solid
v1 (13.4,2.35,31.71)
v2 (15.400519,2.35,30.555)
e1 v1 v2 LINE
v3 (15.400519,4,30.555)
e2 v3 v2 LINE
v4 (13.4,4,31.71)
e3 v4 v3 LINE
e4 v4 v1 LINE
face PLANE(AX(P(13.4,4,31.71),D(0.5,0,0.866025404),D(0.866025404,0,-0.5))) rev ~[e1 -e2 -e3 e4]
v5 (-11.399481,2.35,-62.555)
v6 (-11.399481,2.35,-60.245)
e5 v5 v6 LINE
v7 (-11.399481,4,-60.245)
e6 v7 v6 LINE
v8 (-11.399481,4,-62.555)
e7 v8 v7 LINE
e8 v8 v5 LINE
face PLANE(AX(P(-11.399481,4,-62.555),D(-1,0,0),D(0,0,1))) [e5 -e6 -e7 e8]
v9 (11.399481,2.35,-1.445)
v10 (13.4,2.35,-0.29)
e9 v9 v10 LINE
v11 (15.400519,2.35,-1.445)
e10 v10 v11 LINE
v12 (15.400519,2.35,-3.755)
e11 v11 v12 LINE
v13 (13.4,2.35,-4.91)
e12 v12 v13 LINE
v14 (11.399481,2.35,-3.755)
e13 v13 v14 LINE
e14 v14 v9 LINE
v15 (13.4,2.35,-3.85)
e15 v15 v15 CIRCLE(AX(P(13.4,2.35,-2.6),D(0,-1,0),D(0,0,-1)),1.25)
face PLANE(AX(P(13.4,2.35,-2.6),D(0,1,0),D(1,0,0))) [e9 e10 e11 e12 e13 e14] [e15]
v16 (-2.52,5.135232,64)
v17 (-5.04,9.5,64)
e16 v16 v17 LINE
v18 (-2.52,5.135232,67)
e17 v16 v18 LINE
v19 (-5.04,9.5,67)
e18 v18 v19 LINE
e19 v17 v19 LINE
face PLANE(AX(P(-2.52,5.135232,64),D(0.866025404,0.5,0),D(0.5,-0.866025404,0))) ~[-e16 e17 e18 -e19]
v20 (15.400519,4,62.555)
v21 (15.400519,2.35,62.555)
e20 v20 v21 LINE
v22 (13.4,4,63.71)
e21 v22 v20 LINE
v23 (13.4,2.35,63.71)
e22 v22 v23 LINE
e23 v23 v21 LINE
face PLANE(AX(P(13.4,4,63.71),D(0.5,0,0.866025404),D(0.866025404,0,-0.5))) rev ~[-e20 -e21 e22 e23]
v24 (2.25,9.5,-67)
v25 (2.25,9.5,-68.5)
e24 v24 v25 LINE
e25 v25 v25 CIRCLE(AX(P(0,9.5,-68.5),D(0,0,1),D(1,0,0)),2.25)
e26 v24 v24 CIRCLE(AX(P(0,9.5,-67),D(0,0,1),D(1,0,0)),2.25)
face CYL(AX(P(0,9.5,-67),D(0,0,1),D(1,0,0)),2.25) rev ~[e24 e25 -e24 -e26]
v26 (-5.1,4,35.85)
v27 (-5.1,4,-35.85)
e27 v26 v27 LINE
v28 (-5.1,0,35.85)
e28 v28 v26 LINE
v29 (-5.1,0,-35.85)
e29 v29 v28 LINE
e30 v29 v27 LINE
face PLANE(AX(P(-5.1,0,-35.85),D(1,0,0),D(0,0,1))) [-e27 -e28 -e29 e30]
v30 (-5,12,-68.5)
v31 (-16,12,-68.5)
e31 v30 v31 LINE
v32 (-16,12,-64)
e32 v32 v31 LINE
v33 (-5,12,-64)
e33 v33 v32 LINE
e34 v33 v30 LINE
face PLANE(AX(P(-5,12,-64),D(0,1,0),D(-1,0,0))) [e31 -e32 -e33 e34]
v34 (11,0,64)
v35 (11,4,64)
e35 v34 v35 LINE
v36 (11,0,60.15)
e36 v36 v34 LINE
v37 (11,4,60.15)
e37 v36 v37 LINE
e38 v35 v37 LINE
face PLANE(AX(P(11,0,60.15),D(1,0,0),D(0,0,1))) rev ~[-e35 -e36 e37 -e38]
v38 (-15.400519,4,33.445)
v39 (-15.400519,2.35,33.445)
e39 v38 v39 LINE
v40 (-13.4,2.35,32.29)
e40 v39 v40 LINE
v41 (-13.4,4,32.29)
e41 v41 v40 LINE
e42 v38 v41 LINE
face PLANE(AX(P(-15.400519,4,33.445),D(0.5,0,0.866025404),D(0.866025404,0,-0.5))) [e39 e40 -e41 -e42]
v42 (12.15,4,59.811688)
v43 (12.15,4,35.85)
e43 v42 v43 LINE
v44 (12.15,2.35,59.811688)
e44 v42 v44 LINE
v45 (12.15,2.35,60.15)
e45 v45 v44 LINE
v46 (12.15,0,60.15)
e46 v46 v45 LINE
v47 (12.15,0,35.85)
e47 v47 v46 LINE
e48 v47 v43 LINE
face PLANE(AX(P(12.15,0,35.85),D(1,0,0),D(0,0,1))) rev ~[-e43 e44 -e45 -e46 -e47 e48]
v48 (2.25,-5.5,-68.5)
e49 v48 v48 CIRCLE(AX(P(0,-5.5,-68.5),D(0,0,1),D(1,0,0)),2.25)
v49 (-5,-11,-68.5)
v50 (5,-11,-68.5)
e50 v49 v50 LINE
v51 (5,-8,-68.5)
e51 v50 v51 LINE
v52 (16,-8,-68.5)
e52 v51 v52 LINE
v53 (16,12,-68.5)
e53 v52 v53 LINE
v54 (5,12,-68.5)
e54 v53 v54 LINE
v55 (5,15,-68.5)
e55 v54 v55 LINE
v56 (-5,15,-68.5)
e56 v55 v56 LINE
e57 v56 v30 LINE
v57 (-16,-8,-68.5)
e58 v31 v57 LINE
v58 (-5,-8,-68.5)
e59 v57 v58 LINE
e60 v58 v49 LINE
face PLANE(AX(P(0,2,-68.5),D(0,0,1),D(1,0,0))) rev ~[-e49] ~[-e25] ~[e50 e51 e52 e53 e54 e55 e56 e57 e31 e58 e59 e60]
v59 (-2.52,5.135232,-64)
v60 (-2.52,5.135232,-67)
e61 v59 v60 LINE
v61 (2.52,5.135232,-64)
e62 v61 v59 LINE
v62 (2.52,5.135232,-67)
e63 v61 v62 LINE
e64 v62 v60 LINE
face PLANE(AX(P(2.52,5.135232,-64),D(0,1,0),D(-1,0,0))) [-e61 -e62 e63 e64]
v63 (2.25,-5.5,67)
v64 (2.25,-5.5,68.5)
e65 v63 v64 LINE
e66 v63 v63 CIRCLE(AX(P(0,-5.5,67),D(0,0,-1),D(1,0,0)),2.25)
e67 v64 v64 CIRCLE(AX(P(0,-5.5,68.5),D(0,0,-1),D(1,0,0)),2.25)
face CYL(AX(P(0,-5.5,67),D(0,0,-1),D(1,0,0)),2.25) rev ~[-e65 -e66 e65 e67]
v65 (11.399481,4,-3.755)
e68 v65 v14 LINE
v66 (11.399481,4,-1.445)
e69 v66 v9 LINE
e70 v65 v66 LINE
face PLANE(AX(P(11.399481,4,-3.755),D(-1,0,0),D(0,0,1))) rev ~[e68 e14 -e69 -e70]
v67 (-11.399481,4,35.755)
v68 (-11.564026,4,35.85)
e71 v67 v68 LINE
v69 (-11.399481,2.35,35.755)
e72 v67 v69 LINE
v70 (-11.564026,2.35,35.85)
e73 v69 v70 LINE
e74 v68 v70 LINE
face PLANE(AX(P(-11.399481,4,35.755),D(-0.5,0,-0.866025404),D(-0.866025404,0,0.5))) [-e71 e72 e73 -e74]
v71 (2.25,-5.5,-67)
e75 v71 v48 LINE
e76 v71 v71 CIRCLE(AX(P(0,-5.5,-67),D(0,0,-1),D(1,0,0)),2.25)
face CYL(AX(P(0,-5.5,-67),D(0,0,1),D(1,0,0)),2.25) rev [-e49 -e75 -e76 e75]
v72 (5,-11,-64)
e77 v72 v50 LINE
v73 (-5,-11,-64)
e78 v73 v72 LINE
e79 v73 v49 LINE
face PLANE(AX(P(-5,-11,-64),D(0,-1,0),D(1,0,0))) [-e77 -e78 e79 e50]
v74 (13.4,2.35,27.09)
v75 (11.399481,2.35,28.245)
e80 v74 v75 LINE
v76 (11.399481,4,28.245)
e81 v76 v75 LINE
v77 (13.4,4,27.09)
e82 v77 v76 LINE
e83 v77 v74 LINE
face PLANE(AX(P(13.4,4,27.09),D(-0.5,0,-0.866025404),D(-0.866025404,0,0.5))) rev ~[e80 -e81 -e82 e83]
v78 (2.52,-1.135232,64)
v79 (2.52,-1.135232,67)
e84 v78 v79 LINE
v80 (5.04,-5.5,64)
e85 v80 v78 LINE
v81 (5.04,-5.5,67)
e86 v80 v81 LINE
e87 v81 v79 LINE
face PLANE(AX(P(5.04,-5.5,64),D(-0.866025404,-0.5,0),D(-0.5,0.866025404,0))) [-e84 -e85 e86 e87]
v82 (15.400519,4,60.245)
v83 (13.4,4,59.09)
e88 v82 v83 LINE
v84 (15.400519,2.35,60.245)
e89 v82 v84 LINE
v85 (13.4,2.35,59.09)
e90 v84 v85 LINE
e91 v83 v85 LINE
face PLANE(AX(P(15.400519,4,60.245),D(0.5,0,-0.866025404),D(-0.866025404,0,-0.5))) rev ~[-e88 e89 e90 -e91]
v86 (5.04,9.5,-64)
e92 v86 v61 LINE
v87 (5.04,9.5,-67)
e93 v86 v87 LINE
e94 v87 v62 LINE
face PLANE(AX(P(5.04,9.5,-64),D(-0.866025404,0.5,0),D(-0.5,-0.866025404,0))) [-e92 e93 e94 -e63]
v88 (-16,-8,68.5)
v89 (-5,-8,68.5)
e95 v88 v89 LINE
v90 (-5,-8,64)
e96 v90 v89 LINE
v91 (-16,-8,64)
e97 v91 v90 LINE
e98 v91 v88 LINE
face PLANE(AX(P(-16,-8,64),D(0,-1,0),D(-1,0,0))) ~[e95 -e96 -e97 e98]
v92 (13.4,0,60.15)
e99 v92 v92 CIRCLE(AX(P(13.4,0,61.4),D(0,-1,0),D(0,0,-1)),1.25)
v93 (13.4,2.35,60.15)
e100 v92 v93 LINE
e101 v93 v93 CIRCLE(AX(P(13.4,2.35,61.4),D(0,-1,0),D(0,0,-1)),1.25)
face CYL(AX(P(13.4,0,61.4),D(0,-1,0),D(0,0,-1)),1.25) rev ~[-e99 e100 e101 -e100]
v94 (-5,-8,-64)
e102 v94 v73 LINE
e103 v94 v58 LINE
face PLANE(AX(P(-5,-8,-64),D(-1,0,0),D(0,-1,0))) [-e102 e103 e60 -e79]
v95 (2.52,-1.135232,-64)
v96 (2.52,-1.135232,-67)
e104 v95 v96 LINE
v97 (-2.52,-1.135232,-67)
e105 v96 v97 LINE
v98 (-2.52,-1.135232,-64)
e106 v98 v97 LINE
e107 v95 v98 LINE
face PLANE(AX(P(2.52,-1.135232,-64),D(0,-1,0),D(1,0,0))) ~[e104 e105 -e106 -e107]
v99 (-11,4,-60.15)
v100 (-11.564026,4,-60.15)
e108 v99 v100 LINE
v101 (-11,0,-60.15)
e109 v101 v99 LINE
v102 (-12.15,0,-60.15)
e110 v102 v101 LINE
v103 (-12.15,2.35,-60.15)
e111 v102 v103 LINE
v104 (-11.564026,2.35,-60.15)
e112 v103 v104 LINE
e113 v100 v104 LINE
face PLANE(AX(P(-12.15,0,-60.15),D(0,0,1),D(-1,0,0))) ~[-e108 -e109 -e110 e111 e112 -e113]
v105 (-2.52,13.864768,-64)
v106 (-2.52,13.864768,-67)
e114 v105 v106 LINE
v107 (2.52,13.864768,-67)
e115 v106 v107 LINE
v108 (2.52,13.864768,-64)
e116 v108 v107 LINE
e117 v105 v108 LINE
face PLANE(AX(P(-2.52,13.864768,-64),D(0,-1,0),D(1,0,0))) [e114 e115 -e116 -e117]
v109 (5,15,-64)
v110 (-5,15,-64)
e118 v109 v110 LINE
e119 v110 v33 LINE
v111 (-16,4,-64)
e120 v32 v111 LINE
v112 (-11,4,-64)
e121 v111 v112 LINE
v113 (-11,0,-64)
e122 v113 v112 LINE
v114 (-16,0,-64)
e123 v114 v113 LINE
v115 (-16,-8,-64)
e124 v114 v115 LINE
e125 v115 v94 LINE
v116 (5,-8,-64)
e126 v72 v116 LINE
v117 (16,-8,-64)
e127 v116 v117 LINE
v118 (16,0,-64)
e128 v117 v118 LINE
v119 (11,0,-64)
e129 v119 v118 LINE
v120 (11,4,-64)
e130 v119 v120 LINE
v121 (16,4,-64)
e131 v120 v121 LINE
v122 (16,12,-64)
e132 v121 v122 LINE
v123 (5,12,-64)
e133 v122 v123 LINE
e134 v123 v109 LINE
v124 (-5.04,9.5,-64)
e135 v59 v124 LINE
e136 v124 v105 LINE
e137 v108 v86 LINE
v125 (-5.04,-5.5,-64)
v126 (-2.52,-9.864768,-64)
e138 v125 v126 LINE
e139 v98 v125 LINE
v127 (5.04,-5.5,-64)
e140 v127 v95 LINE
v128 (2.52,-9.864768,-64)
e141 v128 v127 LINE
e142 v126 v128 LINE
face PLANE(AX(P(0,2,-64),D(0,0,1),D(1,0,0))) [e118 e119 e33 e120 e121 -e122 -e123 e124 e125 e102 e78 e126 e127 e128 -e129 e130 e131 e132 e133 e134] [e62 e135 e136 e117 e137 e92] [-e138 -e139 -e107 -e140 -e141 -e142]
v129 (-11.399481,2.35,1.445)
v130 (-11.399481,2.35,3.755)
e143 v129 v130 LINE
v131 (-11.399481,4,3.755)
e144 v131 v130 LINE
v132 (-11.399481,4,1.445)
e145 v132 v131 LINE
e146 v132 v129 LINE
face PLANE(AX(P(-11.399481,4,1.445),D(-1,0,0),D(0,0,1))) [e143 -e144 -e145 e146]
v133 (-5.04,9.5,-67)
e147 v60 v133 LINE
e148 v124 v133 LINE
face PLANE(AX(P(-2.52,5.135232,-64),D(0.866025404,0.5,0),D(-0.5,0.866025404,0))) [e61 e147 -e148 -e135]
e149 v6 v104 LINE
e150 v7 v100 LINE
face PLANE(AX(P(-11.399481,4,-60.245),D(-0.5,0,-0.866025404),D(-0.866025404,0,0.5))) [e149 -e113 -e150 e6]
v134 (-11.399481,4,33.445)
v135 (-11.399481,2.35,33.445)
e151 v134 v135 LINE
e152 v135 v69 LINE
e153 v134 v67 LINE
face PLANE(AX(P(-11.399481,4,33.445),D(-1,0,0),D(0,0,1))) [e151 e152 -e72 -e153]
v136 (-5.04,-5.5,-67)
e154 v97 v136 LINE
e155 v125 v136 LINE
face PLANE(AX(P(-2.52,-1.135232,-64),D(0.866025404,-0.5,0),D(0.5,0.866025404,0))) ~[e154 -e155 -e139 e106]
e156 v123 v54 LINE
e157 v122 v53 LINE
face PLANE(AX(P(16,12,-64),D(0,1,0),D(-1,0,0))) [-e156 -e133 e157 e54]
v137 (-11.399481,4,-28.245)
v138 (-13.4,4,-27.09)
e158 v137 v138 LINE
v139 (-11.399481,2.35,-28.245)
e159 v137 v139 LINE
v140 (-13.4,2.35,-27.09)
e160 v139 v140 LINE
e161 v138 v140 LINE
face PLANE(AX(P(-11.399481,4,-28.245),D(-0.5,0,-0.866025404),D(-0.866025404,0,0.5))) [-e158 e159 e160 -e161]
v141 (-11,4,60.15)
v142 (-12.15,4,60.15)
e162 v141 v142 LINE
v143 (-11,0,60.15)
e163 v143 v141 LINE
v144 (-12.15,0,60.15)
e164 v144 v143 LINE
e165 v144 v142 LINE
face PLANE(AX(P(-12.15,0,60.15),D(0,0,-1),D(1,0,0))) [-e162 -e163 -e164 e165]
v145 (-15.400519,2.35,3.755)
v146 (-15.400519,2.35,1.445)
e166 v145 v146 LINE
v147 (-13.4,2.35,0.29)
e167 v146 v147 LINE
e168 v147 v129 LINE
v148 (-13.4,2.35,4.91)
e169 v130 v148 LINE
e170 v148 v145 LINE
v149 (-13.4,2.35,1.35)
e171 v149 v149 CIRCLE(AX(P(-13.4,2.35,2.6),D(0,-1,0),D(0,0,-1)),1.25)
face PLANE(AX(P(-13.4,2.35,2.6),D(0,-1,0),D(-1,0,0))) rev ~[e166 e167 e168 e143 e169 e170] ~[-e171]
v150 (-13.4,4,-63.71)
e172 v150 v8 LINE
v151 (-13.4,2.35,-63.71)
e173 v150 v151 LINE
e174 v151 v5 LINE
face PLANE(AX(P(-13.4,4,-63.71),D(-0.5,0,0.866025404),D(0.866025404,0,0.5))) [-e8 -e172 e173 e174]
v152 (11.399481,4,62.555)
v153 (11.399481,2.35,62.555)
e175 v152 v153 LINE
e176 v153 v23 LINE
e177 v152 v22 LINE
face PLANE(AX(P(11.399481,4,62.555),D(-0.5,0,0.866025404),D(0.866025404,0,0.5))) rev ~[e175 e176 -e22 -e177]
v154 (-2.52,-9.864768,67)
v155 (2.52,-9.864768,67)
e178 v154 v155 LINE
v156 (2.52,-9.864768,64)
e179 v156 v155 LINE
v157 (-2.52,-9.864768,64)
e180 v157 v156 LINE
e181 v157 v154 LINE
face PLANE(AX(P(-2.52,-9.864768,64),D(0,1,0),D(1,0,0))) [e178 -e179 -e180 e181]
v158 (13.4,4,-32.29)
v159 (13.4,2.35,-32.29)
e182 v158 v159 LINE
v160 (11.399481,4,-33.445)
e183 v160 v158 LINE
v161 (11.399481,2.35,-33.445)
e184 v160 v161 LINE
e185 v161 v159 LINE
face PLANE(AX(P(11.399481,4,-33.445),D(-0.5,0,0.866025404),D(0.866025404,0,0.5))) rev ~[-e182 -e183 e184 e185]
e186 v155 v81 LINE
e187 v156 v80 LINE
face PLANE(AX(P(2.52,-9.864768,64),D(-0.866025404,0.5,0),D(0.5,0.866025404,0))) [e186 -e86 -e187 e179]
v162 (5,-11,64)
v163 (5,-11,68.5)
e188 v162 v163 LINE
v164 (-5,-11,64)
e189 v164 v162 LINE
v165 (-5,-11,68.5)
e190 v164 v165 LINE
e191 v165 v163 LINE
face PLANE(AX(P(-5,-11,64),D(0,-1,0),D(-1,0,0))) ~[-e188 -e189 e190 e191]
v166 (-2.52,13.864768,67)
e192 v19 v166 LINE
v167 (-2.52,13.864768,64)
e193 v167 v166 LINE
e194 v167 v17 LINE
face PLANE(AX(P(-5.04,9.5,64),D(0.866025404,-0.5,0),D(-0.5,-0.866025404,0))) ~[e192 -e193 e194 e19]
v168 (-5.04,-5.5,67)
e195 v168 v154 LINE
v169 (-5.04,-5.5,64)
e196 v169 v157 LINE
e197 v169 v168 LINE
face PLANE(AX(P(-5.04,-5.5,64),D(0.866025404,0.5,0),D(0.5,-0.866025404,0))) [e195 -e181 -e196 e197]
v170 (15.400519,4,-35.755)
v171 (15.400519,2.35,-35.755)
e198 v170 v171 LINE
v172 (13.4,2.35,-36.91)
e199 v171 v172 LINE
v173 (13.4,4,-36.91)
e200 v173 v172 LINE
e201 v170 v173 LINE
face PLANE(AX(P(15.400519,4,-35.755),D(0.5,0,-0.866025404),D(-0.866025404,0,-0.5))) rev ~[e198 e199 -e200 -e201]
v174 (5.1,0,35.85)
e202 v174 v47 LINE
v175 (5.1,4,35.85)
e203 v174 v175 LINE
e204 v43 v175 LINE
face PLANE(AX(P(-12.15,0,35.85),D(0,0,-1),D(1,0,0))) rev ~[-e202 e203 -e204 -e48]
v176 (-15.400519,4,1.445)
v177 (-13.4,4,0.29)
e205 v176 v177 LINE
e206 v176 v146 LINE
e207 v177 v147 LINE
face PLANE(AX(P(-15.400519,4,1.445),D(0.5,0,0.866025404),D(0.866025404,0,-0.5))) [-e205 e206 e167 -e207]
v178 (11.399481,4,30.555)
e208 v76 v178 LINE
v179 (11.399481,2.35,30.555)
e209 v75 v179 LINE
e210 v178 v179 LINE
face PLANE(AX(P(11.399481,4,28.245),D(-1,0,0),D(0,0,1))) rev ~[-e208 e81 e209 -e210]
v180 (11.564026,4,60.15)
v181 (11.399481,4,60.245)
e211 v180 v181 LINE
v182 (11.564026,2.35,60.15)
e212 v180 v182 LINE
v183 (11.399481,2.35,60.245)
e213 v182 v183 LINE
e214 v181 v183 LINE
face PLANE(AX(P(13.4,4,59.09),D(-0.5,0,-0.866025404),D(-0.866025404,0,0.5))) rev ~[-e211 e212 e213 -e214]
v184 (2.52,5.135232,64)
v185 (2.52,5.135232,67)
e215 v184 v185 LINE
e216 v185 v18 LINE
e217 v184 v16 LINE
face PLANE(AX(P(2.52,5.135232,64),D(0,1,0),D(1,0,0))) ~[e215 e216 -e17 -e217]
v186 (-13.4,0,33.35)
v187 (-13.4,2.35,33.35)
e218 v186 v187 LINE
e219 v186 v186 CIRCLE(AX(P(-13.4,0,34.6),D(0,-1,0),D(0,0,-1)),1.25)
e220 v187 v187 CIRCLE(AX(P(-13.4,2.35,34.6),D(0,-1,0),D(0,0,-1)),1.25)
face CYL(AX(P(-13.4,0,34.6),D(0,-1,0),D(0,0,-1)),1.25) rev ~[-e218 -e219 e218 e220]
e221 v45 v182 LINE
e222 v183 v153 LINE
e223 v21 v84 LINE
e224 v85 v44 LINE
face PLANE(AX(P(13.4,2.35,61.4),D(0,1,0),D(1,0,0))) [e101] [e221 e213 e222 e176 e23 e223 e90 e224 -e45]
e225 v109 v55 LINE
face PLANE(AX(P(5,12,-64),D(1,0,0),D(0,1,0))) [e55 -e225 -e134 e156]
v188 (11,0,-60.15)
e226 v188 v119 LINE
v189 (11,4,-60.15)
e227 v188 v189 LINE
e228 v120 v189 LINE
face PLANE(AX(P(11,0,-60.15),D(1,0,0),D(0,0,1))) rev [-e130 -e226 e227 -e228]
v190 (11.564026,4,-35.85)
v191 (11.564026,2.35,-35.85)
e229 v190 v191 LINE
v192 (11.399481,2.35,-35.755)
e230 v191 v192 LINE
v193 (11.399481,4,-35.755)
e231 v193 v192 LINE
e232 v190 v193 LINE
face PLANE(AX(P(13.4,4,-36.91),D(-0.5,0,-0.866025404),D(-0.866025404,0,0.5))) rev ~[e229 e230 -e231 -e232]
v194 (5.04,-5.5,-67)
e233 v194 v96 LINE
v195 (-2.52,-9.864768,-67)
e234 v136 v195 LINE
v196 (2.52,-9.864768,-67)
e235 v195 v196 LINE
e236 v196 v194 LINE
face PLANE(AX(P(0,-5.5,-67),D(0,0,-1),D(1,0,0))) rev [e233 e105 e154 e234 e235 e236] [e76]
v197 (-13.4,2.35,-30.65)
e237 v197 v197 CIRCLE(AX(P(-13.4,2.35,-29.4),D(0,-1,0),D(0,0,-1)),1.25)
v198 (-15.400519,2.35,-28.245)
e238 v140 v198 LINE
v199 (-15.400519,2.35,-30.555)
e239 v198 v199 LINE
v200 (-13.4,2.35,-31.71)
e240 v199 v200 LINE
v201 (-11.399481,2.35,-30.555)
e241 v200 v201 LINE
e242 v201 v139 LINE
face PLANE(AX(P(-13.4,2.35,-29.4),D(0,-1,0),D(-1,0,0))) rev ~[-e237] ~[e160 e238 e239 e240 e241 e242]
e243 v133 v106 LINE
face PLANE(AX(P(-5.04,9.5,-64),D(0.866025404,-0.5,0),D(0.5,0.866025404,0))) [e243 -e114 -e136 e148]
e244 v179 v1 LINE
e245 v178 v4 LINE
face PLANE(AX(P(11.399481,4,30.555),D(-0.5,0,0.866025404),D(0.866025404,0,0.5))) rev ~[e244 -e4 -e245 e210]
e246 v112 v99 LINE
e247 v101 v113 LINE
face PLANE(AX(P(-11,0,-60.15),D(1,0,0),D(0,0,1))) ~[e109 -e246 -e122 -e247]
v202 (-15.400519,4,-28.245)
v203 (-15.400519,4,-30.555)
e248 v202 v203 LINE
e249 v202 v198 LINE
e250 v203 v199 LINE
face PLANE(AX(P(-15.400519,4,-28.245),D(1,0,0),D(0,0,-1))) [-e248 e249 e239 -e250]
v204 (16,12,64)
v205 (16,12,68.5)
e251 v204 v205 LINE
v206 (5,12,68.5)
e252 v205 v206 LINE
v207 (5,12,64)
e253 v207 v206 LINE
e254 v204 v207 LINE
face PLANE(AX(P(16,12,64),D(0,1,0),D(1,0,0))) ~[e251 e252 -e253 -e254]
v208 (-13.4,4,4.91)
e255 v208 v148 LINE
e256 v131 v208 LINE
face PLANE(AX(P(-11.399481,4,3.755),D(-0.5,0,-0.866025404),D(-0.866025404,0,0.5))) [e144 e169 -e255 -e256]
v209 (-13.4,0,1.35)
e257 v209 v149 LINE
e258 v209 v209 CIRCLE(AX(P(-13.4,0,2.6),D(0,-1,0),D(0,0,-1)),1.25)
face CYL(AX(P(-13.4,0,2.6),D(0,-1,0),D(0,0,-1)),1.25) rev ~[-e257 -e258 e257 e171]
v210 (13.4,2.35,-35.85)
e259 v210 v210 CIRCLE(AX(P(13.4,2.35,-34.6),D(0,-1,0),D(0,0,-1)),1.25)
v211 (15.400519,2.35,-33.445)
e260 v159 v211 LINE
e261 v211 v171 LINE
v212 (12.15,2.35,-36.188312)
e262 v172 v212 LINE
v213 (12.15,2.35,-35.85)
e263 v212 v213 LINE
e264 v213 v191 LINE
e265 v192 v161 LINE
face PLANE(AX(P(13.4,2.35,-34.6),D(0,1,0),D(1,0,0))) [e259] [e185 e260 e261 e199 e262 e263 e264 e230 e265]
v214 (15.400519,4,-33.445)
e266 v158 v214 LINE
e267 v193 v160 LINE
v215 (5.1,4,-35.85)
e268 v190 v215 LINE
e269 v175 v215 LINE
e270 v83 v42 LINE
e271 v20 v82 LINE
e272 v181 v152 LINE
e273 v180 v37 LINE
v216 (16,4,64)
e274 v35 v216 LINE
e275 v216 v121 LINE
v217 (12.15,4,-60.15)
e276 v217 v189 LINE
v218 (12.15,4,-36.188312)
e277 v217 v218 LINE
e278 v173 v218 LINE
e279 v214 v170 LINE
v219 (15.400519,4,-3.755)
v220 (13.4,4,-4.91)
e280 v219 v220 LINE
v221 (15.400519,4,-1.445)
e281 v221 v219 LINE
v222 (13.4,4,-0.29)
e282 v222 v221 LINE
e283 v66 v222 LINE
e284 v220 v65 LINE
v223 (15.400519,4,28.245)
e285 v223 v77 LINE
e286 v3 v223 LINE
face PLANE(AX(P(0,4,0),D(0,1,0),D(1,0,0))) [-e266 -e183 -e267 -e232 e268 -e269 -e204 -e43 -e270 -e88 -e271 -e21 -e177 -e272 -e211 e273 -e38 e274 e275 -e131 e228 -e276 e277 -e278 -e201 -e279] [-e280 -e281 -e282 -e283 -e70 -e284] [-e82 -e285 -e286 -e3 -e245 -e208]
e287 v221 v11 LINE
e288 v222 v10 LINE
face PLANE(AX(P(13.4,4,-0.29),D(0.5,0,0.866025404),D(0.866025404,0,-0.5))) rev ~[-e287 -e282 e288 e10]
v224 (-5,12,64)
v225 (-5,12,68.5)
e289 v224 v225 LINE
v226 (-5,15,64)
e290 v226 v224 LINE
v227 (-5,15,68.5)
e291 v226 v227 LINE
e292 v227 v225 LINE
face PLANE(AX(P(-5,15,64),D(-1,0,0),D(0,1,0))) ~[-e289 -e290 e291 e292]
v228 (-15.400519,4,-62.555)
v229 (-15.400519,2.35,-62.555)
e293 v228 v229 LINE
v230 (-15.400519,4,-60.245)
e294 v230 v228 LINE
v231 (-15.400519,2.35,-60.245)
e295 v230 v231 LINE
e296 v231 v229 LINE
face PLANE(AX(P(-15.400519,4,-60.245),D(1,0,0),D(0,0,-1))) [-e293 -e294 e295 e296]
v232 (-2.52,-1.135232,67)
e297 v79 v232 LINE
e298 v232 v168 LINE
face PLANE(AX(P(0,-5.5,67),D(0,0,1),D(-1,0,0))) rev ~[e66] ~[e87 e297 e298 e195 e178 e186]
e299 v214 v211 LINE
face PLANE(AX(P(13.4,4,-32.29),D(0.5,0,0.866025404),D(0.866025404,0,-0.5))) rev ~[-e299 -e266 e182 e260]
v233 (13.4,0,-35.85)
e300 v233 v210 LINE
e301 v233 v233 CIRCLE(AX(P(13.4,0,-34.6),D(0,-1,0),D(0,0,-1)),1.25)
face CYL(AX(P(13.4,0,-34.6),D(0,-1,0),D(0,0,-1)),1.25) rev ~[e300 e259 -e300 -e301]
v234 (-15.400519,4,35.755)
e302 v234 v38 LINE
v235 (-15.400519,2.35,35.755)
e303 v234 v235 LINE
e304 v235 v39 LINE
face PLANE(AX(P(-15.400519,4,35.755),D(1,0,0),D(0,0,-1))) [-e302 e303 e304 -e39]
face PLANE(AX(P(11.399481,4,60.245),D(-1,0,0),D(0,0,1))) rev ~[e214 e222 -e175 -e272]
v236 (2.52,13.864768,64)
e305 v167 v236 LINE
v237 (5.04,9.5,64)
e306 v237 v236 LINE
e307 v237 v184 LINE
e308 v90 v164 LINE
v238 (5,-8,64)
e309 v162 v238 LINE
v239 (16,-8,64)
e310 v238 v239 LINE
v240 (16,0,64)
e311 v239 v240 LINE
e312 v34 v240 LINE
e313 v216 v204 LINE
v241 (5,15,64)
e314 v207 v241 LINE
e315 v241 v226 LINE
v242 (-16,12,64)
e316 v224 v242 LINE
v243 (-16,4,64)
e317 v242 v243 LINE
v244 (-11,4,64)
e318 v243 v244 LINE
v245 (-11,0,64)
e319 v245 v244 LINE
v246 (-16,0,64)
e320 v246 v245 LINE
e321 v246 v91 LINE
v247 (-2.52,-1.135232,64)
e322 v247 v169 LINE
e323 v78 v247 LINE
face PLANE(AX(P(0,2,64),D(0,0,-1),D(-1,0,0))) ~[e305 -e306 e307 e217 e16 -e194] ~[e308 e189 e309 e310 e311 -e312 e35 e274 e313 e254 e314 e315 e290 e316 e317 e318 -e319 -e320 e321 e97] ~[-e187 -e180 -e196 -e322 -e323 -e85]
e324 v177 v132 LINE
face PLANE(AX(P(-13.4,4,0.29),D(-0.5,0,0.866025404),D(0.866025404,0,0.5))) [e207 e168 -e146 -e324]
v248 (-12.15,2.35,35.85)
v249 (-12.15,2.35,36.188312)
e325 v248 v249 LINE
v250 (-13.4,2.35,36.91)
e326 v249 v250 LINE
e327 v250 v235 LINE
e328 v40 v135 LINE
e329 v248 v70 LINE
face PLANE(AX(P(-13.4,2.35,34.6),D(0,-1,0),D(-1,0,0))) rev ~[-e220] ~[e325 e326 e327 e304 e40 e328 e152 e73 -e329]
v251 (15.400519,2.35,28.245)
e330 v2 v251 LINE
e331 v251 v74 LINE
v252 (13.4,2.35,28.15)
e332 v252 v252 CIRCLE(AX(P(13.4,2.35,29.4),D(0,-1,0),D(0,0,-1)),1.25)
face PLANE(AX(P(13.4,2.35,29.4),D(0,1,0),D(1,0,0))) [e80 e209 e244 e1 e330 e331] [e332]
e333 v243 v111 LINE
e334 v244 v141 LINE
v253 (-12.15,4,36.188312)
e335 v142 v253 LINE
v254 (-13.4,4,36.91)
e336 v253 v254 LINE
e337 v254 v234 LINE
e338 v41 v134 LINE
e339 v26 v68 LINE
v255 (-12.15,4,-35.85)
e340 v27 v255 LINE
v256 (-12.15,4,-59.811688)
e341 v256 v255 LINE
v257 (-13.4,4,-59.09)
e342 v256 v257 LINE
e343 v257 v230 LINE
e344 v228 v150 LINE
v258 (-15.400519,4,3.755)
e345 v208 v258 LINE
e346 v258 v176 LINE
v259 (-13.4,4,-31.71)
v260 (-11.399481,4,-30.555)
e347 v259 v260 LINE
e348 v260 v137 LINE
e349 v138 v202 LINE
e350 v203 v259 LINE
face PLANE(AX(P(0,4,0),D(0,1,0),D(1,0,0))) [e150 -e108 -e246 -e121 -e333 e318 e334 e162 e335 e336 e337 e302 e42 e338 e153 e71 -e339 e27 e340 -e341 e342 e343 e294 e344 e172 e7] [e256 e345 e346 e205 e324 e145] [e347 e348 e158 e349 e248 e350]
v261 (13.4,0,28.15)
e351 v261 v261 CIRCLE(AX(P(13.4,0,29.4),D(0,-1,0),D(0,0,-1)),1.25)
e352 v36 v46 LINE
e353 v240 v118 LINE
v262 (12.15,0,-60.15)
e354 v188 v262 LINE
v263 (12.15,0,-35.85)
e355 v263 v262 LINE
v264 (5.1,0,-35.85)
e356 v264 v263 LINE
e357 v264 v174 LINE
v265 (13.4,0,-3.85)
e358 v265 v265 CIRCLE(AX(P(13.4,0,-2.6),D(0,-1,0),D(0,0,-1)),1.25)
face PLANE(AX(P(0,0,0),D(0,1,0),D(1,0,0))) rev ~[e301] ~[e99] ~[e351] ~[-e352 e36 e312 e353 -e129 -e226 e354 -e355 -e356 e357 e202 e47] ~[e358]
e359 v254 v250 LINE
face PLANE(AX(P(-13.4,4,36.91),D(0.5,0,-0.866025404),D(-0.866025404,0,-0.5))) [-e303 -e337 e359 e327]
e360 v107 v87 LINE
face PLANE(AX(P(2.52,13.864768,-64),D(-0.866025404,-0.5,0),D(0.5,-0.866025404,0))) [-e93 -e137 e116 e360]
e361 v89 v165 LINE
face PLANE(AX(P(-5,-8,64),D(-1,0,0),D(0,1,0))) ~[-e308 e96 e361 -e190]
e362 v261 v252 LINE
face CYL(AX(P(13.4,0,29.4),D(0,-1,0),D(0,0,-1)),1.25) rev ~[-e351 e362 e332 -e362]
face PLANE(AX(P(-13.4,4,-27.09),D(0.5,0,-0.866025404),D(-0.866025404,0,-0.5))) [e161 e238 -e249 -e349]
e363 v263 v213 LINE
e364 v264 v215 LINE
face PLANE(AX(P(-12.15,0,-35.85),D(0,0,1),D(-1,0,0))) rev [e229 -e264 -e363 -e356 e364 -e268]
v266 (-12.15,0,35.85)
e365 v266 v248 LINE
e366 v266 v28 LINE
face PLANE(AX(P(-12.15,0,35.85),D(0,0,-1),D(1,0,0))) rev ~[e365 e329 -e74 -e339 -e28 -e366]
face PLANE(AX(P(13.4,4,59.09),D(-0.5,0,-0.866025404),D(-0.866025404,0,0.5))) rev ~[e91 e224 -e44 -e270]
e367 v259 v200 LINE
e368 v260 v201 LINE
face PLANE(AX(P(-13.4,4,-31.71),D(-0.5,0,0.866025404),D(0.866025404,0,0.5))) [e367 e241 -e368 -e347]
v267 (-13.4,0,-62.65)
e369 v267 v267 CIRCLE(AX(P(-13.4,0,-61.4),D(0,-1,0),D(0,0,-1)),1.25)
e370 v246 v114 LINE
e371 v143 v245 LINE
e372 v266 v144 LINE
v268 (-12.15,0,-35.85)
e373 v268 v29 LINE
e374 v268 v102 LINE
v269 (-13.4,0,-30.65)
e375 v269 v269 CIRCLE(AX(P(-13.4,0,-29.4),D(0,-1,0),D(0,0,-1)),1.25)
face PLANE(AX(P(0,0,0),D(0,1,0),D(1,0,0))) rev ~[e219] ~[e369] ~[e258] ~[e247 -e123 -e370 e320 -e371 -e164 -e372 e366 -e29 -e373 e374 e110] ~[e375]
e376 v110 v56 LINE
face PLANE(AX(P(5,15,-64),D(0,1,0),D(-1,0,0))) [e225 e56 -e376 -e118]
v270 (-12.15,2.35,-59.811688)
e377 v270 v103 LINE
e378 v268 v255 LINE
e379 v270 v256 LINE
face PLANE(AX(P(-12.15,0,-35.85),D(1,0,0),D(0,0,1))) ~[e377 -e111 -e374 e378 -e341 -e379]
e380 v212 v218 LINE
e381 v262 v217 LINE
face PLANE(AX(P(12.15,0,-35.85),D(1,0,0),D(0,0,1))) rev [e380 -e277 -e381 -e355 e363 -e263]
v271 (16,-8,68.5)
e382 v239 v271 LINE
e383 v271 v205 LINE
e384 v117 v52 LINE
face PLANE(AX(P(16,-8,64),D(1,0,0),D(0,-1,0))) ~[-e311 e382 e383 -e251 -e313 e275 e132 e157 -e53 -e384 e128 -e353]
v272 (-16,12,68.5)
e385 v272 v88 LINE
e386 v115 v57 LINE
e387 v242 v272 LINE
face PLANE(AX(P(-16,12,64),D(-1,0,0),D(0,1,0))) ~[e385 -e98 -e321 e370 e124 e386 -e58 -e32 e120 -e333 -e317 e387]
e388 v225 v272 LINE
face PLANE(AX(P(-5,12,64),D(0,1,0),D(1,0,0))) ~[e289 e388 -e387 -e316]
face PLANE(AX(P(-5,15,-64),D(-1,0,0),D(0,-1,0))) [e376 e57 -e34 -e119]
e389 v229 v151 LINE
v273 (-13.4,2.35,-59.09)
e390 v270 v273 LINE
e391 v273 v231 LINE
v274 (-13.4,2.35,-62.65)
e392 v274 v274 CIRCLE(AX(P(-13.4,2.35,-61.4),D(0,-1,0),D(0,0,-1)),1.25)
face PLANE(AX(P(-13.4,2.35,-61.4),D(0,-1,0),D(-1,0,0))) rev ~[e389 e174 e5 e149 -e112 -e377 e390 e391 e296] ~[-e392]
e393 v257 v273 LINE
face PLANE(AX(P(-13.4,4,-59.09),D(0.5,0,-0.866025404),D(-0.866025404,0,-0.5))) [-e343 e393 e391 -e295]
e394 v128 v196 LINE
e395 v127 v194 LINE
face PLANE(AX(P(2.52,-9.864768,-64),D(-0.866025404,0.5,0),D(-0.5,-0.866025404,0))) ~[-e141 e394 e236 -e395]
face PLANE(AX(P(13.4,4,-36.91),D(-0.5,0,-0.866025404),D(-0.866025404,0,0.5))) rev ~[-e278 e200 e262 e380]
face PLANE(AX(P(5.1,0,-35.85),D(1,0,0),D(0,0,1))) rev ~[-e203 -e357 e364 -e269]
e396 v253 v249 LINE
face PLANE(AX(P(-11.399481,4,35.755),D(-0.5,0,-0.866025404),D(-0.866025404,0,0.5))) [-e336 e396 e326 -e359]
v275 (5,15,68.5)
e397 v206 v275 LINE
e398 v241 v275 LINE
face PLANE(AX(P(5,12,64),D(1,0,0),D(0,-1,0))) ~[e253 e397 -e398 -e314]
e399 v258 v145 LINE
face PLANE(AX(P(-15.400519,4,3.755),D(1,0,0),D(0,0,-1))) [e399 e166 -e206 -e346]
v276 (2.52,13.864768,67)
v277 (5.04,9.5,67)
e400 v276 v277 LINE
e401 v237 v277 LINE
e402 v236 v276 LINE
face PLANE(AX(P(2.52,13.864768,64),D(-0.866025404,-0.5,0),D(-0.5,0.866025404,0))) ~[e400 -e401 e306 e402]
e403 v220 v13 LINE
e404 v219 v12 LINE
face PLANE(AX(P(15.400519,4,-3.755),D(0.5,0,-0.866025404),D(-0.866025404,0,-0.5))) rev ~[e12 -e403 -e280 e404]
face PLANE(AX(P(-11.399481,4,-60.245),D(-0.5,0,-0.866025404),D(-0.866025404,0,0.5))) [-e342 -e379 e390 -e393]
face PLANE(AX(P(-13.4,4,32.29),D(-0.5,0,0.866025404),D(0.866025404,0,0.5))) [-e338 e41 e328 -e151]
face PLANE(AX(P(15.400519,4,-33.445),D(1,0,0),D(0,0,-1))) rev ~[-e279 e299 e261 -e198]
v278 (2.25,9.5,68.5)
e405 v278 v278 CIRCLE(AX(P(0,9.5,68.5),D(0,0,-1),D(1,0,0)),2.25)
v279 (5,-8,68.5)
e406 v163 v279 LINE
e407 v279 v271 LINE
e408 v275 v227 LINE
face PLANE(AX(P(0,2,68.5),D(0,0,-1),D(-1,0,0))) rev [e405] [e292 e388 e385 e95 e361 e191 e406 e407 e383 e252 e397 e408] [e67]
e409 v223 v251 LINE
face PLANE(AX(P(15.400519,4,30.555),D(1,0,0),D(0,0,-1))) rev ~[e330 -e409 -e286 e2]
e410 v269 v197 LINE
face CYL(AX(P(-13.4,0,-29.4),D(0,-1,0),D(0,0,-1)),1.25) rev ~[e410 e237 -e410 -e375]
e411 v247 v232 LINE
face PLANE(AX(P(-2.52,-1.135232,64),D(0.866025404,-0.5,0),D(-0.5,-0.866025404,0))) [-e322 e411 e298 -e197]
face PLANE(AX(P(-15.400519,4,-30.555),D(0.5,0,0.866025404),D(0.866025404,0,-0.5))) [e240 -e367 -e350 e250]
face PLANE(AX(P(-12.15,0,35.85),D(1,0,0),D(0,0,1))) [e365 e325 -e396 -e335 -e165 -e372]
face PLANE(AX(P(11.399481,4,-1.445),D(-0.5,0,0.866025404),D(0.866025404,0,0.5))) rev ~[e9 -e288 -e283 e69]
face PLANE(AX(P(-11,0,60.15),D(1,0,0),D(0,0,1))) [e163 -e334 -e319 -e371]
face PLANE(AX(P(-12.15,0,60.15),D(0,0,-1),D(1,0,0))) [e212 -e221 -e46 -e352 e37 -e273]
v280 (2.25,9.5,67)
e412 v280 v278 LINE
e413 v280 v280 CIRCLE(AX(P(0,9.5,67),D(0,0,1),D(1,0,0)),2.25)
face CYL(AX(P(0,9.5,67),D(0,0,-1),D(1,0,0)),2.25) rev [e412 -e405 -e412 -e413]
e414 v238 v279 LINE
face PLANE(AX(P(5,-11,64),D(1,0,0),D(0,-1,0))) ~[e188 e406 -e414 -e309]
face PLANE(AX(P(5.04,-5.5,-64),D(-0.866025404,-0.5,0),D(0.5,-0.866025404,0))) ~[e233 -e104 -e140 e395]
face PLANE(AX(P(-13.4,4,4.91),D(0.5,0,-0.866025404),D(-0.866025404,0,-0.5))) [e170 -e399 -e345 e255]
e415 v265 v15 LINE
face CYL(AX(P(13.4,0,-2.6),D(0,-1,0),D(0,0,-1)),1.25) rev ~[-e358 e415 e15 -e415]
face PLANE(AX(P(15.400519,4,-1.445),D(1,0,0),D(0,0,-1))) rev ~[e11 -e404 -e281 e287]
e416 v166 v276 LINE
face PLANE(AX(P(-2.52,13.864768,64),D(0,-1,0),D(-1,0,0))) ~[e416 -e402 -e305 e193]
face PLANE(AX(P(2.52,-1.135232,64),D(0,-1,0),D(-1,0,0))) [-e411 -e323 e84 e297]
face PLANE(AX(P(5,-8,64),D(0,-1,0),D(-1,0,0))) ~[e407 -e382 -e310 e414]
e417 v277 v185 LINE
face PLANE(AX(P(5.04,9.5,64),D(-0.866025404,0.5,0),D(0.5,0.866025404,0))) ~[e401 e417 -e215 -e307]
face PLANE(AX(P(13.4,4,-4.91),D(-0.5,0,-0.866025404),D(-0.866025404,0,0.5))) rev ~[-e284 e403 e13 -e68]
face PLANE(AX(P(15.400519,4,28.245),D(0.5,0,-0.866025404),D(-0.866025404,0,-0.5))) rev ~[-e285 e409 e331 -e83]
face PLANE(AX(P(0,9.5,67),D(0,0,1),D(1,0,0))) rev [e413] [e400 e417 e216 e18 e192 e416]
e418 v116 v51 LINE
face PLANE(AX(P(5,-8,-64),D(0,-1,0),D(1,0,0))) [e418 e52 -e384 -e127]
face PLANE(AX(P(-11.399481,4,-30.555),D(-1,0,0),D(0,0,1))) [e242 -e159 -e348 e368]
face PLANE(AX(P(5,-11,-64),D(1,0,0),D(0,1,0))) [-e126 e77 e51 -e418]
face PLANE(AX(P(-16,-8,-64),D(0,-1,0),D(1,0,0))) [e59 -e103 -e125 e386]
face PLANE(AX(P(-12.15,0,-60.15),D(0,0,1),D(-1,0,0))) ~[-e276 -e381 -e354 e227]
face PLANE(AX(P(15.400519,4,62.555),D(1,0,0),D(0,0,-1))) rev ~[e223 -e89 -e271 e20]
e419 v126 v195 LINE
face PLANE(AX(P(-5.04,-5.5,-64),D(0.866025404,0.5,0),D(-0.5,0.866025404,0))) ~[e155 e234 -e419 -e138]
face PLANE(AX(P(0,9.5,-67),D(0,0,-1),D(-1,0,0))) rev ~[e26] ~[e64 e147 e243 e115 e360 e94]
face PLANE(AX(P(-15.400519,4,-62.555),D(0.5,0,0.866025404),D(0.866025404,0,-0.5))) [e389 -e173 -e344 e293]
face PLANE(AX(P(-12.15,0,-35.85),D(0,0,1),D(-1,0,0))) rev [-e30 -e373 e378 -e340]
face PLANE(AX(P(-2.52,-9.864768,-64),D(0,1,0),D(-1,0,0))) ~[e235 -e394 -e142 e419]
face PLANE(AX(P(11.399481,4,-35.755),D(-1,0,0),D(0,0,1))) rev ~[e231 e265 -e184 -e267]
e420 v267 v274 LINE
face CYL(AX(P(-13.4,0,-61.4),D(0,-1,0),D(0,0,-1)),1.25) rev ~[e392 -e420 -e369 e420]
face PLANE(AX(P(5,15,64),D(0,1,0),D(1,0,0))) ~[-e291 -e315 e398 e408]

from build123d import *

# Parameters (mm, degrees)
SKETCH1_W               = 32
SKETCH1_H               = 128
BOSS_EXTRUDE1_DEPTH     = 4
SKETCH4_R               = 1.25
CUT_EXTRUDE2_DEPTH      = 10
SKETCH5_R               = 1.25
CUT_EXTRUDE3_DEPTH      = 10
CUT_EXTRUDE4_DEPTH      = 1.65
LPATTERN3_COUNT         = 4
LPATTERN3_PITCH         = 32
CUT_EXTRUDE5_DEPTH      = 1.65
LPATTERN4_COUNT         = 4
LPATTERN4_PITCH         = 32
SKETCH8_W               = 24.3
SKETCH8_H               = 24.3
CUT_EXTRUDE6_DEPTH      = 10
BOSS_EXTRUDE2_DEPTH     = 4.5
SKETCH11_W              = 10.2
SKETCH11_H              = 71.7
CUT_EXTRUDE7_DEPTH      = 72.92530848
CUT_EXTRUDE8_DEPTH      = 3
SKETCH12_R              = 2.25
CUT_EXTRUDE9_DEPTH      = 3
MIRROR3_COPY_1_DEPTH    = 3
MIRROR3_COPY_2_SKETCH_R = 2.25
MIRROR3_COPY_2_DEPTH    = 3
SKETCH14_W              = 22
SKETCH14_H              = 3.85
CUT_EXTRUDE13_DEPTH     = 10


with BuildPart() as part:
    # Sketch1 → Boss-Extrude1 (new body)
    with BuildSketch(Plane(origin=(0, 0, 0), x_dir=(1, 0, 0), z_dir=(0, 1, 0))):
        Rectangle(SKETCH1_W, SKETCH1_H)
    extrude(amount=BOSS_EXTRUDE1_DEPTH)

    # Sketch4 → Cut-Extrude2 (cut)
    with BuildSketch(Plane.XZ):
        with Locations(Location((13.4, 61.4, 0), (0, 0, 270))):
            Circle(SKETCH4_R)
    cut_extrude2 = extrude(amount=-CUT_EXTRUDE2_DEPTH, mode=Mode.SUBTRACT)

    # Sketch5 → Cut-Extrude3 (cut)
    with BuildSketch(Plane.XZ):
        with Locations(Location((-13.4, -61.4, 0), (0, 0, 270))):
            Circle(SKETCH5_R)
    cut_extrude3 = extrude(amount=-CUT_EXTRUDE3_DEPTH, mode=Mode.SUBTRACT)

    # Sketch6 → Cut-Extrude4 (cut)
    with BuildSketch(Plane(origin=(0, 4, 0), x_dir=(1, 0, 0), z_dir=(0, 1, 0))):
        Polygon((-15.400518683, 62.555), (-13.4, 63.71), (-11.399481317, 62.555), (-11.399481317, 60.245), (-13.4, 59.09), (-15.400518683, 60.245), align=None)
    cut_extrude4 = extrude(amount=-CUT_EXTRUDE4_DEPTH, mode=Mode.SUBTRACT)

    # LPattern3: Cut-Extrude3, Cut-Extrude4 ×4
    with Locations(*[(0, 0, i * LPATTERN3_PITCH) for i in range(1, LPATTERN3_COUNT)]):
        add(cut_extrude3, mode=Mode.SUBTRACT)
        add(cut_extrude4, mode=Mode.SUBTRACT)

    # Sketch7 → Cut-Extrude5 (cut)
    with BuildSketch(Plane(origin=(0, 4, 0), x_dir=(1, 0, 0), z_dir=(0, 1, 0))):
        Polygon((13.4, -59.09), (11.399481317, -60.245), (11.399481317, -62.555), (13.4, -63.71), (15.400518683, -62.555), (15.400518683, -60.245), align=None)
    cut_extrude5 = extrude(amount=-CUT_EXTRUDE5_DEPTH, mode=Mode.SUBTRACT)

    # LPattern4: Cut-Extrude2, Cut-Extrude5 ×4
    with Locations(*[(0, 0, -i * LPATTERN4_PITCH) for i in range(1, LPATTERN4_COUNT)]):
        add(cut_extrude2, mode=Mode.SUBTRACT)
        add(cut_extrude5, mode=Mode.SUBTRACT)

    # Sketch8 → Cut-Extrude6 (cut)
    with BuildSketch(Plane.XZ):
        with Locations((0, 48)):
            Rectangle(SKETCH8_W, SKETCH8_H)
    cut_extrude6 = extrude(amount=-CUT_EXTRUDE6_DEPTH, mode=Mode.SUBTRACT)

    # Mirror1: Cut-Extrude6 across plane
    add(cut_extrude6.mirror(Plane.XY), mode=Mode.SUBTRACT)

    # Sketch9 → Boss-Extrude2 (add)
    with BuildSketch(Plane(origin=(0, 0, -64), x_dir=(-1, 0, 0), z_dir=(0, 0, -1))):
        Polygon((-16, 12), (-5, 12), (-5, 15), (5, 15), (5, 12), (16, 12), (16, -8), (5, -8), (5, -11), (-5, -11), (-5, -8), (-16, -8), align=None)
    boss_extrude2 = extrude(amount=BOSS_EXTRUDE2_DEPTH)

    # Sketch11 → Cut-Extrude7 (cut, through all)
    with BuildSketch(Plane.XZ):
        Rectangle(SKETCH11_W, SKETCH11_H)
    extrude(amount=-CUT_EXTRUDE7_DEPTH, mode=Mode.SUBTRACT)

    # Sketch10 → Cut-Extrude8 (cut)
    with BuildSketch(Plane.XY.offset(-64)):
        Polygon((-2.52, 13.864768035), (2.52, 13.864768035), (5.04, 9.5), (2.52, 5.135231965), (-2.52, 5.135231965), (-5.04, 9.5), align=None)
    cut_extrude8 = extrude(amount=-CUT_EXTRUDE8_DEPTH, mode=Mode.SUBTRACT)

    # Sketch12 → Cut-Extrude9 (cut)
    with BuildSketch(Plane.XY.offset(-67)):
        with Locations((0, 9.5)):
            Circle(SKETCH12_R)
    cut_extrude9 = extrude(amount=-CUT_EXTRUDE9_DEPTH, mode=Mode.SUBTRACT)

    # Mirror2: Cut-Extrude8, Cut-Extrude9 across plane
    add(cut_extrude8.mirror(Plane.ZX.offset(2)), mode=Mode.SUBTRACT)
    add(cut_extrude9.mirror(Plane.ZX.offset(2)), mode=Mode.SUBTRACT)

    # Mirror3: Boss-Extrude2, Cut-Extrude8, Cut-Extrude9 across plane
    add(boss_extrude2.mirror(Plane.XY))
    add(cut_extrude8.mirror(Plane.XY), mode=Mode.SUBTRACT)
    add(cut_extrude9.mirror(Plane.XY), mode=Mode.SUBTRACT)

    # Mirror3 copy 1 sketch → Mirror3 copy 1 (cut)
    with BuildSketch(Plane(origin=(0, 4, 64), x_dir=(1, 0, 0), z_dir=(0, 0, -1))):
        Polygon((-2.52, 13.864768035), (2.52, 13.864768035), (5.04, 9.5), (2.52, 5.135231965), (-2.52, 5.135231965), (-5.04, 9.5), align=None)
    extrude(amount=-MIRROR3_COPY_1_DEPTH, mode=Mode.SUBTRACT)

    # Mirror3 copy 2 sketch → Mirror3 copy 2 (cut)
    with BuildSketch(Plane(origin=(0, 4, 67), x_dir=(1, 0, 0), z_dir=(0, 0, -1))):
        with Locations((0, 9.5)):
            Circle(MIRROR3_COPY_2_SKETCH_R)
    extrude(amount=-MIRROR3_COPY_2_DEPTH, mode=Mode.SUBTRACT)

    # Sketch14 → Cut-Extrude13 (cut)
    with BuildSketch(Plane.XZ):
        with Locations((0, 62.075)):
            Rectangle(SKETCH14_W, SKETCH14_H)
    cut_extrude13 = extrude(amount=-CUT_EXTRUDE13_DEPTH, mode=Mode.SUBTRACT)

    # Mirror4: Cut-Extrude13 across plane
    add(cut_extrude13.mirror(Plane.XY), mode=Mode.SUBTRACT)


solid = part.part
